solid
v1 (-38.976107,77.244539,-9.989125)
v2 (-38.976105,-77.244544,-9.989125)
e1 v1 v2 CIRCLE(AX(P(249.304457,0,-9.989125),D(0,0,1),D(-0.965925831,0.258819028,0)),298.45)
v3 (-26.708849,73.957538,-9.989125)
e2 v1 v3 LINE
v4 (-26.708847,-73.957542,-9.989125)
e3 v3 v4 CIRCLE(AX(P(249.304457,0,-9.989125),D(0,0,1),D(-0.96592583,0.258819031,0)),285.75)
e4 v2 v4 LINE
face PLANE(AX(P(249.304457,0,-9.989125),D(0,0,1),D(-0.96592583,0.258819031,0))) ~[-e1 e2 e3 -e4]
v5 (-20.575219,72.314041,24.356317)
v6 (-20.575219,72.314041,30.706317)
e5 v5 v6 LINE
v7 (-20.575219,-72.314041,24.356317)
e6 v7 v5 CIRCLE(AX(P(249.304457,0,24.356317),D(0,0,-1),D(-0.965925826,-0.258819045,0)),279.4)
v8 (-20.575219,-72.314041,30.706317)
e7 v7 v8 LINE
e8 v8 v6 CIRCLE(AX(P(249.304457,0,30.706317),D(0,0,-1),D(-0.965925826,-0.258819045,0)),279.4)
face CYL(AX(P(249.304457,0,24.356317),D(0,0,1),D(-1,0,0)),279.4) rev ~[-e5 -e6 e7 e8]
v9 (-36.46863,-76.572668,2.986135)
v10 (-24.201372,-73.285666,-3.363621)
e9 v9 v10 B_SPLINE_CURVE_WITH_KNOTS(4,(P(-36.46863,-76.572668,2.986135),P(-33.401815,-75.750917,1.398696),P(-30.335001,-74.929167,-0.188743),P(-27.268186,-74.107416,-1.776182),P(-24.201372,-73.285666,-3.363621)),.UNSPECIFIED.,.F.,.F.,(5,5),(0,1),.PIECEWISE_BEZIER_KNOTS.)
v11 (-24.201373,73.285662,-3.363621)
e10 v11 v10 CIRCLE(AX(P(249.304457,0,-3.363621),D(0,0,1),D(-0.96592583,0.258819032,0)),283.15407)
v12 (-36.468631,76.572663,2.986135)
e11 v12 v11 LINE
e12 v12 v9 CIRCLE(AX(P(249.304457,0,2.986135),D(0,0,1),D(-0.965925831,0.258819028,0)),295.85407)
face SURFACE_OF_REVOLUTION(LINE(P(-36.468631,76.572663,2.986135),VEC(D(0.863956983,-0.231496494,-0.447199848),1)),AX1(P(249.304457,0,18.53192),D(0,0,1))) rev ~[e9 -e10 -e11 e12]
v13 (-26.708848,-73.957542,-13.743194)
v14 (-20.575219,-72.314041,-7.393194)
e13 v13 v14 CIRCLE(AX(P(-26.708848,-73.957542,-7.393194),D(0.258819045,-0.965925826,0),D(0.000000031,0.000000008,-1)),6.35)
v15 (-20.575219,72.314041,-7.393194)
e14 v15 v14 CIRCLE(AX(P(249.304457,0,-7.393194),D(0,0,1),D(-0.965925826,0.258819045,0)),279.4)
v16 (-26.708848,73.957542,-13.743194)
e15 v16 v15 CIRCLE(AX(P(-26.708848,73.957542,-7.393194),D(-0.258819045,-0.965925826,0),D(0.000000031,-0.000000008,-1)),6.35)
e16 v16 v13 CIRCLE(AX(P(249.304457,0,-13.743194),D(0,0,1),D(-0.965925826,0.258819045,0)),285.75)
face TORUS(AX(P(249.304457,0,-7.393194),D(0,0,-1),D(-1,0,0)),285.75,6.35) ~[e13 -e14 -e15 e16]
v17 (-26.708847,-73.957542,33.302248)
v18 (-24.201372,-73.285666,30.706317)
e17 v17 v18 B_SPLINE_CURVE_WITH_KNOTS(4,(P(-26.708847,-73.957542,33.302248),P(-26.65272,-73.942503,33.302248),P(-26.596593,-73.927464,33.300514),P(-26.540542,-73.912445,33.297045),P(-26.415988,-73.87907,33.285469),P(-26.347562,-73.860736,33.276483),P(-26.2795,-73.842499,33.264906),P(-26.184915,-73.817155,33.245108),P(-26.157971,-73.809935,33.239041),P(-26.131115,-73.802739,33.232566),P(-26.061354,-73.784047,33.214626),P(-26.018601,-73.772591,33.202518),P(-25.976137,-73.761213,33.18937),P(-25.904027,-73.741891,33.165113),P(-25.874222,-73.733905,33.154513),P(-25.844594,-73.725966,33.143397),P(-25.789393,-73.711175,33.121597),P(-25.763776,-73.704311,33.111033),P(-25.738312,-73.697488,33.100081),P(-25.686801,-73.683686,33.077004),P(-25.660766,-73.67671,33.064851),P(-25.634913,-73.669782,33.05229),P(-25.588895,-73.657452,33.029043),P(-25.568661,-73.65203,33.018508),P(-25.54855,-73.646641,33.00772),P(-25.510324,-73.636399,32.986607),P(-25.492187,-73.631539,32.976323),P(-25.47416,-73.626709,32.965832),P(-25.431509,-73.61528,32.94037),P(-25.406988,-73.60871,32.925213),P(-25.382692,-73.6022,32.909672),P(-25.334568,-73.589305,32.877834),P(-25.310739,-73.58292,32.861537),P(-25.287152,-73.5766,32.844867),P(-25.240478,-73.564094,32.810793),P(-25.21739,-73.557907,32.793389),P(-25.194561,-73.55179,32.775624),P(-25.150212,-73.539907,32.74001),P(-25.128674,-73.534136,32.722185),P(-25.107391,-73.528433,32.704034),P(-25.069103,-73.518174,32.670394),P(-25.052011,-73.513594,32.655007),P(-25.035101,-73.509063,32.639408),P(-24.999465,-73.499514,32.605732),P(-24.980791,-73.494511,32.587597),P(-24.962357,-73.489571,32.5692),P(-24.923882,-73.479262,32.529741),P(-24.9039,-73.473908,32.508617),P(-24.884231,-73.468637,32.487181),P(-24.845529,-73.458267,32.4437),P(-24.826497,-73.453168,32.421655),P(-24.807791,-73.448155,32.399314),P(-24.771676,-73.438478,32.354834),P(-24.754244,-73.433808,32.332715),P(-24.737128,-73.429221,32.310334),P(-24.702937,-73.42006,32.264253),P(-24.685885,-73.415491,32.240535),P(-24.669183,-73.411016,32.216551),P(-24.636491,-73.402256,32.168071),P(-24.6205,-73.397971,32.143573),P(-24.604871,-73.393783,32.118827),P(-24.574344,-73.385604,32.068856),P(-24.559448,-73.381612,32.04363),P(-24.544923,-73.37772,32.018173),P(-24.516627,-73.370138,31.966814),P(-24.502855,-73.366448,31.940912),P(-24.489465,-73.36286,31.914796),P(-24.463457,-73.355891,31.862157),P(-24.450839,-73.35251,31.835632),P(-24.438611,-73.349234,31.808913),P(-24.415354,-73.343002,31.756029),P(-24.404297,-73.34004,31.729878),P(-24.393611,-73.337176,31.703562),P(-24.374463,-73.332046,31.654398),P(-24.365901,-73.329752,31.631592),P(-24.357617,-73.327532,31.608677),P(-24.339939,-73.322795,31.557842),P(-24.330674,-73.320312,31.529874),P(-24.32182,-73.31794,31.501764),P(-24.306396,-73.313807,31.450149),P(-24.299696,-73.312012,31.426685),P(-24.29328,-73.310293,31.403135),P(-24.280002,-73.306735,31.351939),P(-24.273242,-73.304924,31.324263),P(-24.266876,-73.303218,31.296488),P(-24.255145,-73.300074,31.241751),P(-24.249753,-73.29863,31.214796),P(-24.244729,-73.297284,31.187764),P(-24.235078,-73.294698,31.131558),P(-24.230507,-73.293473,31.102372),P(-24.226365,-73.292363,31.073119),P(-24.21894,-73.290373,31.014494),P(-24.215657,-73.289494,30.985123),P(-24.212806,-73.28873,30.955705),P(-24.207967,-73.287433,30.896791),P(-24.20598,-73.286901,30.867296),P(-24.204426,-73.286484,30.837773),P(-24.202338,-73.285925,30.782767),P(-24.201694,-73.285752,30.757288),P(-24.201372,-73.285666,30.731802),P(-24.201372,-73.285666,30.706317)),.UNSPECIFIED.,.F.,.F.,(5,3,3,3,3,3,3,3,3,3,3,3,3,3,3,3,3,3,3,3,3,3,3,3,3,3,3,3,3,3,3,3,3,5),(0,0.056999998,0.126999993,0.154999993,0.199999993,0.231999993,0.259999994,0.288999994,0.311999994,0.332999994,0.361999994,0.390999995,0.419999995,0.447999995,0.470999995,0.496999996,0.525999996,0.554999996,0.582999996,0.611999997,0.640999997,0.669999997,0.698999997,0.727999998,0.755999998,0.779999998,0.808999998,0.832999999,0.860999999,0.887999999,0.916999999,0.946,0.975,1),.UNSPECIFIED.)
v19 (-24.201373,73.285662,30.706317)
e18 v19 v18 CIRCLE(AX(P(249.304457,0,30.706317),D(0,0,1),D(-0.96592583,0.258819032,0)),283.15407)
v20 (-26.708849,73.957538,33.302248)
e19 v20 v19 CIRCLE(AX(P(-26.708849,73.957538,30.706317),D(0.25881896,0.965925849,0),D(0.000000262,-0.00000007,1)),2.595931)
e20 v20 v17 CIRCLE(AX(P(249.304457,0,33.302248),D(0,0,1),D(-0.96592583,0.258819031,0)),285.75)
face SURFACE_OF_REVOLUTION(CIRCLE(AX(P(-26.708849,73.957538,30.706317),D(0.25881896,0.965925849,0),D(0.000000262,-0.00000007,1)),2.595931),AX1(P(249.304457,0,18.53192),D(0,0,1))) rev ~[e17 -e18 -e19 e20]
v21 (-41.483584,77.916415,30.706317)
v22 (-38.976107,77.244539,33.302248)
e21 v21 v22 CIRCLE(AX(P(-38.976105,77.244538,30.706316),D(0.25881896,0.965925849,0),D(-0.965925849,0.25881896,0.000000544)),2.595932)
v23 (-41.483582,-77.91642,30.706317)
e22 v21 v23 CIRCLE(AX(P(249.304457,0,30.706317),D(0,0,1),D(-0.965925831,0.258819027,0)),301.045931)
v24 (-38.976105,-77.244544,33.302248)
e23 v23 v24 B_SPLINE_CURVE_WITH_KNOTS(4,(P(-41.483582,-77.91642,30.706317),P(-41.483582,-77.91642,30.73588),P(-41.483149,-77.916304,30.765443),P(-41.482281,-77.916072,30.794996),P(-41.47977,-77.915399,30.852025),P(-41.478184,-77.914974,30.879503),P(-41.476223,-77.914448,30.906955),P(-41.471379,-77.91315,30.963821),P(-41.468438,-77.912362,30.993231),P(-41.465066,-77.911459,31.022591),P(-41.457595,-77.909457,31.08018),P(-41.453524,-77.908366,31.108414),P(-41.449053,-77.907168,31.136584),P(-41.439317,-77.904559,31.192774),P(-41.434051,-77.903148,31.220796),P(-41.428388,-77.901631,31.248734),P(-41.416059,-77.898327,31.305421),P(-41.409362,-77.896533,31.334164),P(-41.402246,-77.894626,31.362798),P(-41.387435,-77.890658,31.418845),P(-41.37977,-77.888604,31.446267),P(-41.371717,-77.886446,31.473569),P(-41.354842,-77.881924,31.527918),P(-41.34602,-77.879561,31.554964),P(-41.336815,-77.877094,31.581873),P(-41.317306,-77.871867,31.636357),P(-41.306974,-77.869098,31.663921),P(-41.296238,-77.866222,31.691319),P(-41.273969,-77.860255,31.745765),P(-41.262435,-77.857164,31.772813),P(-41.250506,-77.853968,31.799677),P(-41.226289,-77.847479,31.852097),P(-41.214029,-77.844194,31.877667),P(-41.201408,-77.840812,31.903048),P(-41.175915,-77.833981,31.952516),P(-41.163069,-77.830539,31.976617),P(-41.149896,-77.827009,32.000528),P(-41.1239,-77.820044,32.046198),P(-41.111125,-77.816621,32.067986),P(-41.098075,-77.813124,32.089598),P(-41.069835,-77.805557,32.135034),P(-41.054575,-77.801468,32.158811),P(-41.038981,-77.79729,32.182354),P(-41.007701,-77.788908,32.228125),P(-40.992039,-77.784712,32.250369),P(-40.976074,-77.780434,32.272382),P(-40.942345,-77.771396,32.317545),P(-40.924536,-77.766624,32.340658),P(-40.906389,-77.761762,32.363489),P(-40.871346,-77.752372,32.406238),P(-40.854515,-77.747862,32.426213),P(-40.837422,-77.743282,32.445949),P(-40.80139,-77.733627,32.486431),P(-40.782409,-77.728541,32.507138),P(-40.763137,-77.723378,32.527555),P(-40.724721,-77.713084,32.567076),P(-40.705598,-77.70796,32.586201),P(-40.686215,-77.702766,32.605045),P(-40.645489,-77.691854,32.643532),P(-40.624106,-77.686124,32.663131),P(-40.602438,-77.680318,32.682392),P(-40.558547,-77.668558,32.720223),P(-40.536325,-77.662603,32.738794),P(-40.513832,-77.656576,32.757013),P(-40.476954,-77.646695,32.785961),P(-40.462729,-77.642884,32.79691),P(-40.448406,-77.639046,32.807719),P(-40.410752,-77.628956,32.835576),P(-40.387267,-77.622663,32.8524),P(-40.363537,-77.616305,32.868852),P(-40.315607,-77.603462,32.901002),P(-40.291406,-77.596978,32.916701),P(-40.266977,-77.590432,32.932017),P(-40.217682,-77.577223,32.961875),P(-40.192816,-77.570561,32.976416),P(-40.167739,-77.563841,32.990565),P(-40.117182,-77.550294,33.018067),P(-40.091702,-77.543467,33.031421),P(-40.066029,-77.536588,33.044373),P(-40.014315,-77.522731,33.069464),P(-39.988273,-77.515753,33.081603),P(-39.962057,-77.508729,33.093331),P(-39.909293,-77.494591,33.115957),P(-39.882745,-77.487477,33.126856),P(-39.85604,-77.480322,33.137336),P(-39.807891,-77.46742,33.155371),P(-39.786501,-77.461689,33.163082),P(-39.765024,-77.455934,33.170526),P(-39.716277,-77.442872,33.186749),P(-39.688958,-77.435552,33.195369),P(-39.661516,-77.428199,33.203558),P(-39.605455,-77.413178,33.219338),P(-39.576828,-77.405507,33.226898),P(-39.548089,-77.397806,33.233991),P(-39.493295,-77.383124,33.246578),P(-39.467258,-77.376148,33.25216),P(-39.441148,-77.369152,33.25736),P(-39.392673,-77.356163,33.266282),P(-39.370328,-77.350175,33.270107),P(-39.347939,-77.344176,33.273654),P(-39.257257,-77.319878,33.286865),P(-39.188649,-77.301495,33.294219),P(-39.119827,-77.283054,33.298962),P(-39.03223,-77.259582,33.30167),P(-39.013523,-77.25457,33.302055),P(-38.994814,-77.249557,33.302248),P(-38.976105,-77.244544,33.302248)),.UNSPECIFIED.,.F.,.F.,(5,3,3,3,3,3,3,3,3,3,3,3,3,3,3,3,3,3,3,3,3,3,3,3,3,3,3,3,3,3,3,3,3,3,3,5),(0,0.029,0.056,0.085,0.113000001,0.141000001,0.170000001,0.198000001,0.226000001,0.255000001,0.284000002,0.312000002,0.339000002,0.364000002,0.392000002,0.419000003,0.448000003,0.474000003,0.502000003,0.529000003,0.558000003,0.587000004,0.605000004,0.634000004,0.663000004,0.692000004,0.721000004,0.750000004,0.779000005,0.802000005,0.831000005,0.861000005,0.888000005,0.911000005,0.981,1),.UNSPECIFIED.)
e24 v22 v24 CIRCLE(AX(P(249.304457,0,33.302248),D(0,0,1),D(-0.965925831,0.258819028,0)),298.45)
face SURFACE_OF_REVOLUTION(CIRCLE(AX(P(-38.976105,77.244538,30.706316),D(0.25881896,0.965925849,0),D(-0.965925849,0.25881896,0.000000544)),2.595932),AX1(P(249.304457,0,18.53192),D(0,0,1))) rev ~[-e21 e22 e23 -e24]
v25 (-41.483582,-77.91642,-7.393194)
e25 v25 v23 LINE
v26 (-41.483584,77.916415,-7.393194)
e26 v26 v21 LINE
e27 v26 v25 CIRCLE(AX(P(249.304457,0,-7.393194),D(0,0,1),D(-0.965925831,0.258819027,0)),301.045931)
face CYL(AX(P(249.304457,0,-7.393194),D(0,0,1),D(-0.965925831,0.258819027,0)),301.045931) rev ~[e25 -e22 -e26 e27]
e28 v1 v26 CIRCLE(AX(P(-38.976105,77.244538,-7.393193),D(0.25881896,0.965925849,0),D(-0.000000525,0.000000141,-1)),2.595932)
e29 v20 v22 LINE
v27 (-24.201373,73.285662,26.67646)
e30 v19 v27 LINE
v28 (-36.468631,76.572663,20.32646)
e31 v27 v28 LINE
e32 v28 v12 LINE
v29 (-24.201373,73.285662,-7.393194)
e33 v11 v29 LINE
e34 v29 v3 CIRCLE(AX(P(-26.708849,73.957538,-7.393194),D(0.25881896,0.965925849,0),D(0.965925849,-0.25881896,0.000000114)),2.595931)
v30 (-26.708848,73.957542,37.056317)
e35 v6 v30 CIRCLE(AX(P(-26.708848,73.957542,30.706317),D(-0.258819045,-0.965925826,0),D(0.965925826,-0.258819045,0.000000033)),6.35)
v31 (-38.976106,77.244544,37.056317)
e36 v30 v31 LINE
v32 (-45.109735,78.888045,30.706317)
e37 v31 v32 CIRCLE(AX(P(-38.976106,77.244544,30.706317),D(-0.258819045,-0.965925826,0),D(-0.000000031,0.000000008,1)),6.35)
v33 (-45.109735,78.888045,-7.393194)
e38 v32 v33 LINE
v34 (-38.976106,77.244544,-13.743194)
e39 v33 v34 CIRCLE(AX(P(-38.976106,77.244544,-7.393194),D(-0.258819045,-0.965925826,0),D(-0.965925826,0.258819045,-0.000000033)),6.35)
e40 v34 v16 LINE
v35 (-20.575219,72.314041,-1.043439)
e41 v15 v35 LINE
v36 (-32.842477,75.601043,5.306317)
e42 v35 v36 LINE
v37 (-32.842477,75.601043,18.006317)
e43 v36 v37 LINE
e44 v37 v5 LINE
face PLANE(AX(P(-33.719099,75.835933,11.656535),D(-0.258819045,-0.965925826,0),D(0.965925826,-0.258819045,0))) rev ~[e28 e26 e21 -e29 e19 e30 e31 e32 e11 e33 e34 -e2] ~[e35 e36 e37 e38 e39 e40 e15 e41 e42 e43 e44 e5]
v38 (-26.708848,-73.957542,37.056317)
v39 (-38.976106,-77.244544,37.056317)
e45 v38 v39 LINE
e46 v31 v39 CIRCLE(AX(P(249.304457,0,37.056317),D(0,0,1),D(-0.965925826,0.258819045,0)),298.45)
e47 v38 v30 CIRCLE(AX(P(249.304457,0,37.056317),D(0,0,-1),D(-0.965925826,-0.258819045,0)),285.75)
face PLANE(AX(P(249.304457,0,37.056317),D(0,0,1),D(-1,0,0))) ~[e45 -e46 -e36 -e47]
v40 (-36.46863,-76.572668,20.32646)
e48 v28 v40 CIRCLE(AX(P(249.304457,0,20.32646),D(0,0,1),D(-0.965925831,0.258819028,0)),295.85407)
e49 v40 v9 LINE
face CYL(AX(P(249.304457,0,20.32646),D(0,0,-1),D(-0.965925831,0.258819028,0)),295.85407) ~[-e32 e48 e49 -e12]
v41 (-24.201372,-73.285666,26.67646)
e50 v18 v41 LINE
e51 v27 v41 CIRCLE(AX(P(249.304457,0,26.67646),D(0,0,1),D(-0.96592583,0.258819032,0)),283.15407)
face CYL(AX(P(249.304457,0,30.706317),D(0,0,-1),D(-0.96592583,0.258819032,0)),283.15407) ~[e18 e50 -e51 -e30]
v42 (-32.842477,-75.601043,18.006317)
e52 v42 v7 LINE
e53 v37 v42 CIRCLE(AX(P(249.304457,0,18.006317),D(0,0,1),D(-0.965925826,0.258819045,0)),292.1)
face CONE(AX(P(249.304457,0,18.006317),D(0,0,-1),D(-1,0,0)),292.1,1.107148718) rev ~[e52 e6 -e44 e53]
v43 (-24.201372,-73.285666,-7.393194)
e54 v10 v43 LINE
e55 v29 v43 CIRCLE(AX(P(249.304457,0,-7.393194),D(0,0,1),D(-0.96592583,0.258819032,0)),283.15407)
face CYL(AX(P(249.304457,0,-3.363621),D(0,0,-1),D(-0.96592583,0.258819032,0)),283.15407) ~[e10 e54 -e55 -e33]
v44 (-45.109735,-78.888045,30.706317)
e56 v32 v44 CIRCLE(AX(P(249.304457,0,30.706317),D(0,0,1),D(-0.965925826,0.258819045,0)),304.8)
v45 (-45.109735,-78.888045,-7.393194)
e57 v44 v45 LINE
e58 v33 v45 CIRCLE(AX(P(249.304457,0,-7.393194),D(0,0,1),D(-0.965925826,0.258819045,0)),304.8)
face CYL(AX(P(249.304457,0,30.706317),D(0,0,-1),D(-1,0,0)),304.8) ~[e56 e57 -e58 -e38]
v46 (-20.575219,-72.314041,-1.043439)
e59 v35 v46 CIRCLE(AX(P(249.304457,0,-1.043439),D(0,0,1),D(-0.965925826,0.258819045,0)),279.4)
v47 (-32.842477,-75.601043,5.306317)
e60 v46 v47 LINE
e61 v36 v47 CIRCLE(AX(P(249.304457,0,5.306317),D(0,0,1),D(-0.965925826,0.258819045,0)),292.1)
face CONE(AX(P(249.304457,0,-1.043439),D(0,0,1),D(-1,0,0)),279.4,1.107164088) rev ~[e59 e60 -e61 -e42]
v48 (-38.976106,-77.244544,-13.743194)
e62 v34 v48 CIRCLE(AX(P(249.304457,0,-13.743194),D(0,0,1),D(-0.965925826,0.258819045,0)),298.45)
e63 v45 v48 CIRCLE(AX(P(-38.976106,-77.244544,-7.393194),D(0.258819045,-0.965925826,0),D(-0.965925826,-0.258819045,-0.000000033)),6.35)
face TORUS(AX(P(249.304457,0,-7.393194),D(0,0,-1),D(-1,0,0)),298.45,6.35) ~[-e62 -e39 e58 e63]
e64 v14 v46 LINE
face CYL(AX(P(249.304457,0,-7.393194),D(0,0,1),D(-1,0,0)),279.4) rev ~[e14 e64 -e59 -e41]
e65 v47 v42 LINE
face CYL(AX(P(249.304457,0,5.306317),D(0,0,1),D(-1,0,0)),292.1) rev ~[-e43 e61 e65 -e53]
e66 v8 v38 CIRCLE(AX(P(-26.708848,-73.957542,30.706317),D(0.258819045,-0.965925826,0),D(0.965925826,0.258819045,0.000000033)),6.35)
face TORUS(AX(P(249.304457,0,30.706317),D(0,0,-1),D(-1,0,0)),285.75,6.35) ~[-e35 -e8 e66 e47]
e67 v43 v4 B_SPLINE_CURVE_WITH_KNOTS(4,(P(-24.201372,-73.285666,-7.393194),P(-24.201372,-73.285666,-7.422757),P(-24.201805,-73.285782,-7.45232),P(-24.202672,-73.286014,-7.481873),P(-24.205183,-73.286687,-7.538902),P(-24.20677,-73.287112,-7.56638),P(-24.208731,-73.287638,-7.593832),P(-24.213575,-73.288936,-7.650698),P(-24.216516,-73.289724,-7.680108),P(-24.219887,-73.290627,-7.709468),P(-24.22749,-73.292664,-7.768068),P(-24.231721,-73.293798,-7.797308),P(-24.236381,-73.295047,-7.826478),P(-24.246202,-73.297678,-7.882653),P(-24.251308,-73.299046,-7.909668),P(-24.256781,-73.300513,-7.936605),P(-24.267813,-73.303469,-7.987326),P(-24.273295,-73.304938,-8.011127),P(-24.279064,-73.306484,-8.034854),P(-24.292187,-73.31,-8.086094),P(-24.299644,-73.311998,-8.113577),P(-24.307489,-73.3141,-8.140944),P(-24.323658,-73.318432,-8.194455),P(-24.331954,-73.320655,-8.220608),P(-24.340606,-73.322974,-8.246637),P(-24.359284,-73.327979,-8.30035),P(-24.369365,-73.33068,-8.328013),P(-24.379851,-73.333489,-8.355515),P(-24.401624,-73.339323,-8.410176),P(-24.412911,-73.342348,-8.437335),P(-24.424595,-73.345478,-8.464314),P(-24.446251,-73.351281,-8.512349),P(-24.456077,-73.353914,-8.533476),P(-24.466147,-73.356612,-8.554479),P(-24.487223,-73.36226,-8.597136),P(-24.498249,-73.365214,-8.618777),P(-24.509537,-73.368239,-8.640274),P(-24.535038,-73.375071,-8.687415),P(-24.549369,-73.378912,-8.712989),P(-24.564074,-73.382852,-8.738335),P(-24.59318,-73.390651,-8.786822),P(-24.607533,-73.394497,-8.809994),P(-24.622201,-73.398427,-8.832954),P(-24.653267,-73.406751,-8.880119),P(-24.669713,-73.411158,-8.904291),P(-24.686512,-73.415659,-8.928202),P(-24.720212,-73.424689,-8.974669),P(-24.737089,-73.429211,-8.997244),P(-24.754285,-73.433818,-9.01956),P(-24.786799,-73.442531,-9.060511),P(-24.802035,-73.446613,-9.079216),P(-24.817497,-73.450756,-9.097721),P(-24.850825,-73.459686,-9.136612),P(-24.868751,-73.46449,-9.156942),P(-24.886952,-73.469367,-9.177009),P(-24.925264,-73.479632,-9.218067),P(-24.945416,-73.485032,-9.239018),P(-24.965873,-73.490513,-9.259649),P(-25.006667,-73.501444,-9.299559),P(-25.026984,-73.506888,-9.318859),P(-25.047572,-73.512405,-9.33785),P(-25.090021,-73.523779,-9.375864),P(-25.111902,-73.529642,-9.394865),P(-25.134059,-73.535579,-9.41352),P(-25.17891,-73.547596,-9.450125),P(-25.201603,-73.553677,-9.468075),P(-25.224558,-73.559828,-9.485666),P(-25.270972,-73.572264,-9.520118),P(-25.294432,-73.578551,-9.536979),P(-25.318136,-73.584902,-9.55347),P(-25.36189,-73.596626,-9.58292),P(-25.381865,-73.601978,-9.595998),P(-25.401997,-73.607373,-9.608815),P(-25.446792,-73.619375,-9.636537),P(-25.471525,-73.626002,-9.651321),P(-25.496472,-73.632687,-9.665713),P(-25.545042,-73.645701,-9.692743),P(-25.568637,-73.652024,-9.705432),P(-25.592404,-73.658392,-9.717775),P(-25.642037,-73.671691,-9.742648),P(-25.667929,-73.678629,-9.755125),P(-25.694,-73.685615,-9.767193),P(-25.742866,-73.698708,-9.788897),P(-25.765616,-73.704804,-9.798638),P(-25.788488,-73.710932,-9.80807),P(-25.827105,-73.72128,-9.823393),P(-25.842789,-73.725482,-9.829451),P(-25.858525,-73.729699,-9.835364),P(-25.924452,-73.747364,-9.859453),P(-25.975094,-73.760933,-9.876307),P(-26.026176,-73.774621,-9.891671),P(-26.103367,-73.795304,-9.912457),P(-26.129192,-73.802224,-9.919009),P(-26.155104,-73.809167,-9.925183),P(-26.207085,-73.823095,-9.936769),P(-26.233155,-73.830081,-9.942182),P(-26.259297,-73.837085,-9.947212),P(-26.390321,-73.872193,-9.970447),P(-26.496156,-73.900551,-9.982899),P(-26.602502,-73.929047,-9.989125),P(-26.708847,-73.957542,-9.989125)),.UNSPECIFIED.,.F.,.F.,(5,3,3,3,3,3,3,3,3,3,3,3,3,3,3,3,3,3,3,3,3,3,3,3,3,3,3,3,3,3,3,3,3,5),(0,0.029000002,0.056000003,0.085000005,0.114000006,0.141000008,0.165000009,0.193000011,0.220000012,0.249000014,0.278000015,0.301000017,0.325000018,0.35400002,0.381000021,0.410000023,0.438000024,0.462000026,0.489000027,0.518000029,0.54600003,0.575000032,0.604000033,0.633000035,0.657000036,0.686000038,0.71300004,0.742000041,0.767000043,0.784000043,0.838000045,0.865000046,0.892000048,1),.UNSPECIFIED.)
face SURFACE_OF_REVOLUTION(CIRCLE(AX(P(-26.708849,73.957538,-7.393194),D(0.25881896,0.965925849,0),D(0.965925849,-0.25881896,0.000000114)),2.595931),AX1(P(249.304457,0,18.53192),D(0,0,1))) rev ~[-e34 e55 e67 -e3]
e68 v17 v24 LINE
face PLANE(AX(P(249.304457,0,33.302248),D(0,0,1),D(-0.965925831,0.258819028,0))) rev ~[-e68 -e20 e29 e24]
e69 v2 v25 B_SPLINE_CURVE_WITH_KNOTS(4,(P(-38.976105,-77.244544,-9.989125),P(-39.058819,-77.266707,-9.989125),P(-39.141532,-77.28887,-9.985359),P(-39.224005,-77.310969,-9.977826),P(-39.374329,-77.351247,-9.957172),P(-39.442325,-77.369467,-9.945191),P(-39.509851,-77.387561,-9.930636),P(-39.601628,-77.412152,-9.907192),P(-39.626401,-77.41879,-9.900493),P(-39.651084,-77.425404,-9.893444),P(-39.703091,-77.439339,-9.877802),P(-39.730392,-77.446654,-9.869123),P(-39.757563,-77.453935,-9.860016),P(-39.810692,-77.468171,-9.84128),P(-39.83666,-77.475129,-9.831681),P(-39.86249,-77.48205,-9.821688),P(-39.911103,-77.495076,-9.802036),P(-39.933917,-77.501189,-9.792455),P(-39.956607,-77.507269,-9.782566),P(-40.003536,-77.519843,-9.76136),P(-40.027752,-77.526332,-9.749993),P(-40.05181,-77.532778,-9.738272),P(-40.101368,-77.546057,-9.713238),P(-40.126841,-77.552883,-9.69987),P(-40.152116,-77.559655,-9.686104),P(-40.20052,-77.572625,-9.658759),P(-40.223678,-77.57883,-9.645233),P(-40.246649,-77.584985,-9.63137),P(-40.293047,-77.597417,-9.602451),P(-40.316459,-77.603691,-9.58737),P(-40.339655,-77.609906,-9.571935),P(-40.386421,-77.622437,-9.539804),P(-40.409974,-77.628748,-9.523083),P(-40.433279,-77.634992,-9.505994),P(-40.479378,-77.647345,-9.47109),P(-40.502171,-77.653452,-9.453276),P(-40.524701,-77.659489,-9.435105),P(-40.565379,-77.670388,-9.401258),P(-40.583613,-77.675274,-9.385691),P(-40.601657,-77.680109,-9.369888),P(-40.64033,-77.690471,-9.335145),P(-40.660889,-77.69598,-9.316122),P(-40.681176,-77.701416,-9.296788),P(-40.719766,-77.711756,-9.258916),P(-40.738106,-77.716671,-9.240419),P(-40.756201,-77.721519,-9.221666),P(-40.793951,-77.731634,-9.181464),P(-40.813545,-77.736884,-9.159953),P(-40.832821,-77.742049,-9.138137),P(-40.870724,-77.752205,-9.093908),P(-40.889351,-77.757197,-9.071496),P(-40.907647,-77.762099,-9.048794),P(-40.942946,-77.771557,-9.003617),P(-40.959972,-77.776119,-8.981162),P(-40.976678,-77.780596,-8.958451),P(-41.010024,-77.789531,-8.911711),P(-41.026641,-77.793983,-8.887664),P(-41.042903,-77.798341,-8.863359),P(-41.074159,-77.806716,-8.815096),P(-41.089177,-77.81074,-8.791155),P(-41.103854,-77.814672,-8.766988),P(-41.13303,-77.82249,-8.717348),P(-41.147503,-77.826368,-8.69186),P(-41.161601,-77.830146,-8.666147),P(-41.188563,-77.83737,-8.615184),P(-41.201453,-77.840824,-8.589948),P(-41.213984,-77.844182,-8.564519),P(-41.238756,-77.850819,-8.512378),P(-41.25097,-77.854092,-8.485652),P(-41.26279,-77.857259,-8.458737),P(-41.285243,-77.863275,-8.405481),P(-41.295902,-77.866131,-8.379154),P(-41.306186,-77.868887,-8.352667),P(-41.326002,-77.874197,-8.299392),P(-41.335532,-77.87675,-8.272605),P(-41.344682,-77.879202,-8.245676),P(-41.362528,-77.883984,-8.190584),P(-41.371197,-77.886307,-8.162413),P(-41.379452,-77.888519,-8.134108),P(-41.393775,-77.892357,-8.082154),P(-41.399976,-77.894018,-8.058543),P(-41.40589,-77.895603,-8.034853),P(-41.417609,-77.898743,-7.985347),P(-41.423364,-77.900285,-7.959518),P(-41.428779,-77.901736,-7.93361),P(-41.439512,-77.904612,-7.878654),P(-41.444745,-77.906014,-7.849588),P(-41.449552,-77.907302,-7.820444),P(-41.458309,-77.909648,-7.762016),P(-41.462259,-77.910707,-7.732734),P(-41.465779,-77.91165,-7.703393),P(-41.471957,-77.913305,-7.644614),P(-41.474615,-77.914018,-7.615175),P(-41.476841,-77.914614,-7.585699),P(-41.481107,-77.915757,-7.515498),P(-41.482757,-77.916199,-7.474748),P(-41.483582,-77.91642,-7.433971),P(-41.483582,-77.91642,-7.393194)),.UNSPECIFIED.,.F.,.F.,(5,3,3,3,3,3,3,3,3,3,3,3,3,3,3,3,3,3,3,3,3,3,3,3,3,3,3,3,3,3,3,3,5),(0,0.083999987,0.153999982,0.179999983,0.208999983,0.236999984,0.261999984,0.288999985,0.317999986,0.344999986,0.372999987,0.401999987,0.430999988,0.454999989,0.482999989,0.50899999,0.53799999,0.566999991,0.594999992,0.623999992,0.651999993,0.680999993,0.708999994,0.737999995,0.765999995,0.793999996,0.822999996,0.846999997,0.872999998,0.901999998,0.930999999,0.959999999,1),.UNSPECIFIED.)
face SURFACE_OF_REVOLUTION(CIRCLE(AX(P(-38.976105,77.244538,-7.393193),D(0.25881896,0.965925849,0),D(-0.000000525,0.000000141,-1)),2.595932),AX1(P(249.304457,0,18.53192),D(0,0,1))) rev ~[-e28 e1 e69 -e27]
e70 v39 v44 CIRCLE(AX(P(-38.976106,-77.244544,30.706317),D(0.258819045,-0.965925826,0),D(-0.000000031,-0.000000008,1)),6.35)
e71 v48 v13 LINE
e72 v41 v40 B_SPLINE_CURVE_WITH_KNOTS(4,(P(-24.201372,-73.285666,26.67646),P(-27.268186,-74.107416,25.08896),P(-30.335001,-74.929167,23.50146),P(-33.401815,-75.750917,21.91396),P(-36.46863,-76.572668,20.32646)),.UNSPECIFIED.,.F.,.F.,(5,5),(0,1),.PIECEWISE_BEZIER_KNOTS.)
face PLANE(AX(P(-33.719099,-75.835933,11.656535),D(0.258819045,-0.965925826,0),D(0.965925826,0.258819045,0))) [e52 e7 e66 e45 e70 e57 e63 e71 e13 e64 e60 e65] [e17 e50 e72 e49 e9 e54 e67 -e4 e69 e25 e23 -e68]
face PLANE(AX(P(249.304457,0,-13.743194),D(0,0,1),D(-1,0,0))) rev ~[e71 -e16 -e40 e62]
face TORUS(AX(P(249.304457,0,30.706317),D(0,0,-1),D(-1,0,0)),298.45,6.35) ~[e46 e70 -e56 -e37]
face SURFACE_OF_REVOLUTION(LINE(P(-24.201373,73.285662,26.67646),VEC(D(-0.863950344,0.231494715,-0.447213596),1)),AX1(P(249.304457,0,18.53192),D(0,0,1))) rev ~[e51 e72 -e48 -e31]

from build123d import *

# Parameters (mm, degrees)
F1_ANGLE = 30
F3_ANGLE = 3


with BuildPart() as f1:
    # F0 (on Front) → F1 (revolve, symmetric)
    with BuildSketch(Plane.XZ) as f1_sk:
        with BuildLine():
            Line((-36.445543, 37.056317), (-49.145543, 37.056317))
            ThreePointArc((-49.145543, 37.056317), (-53.635671, 35.196445), (-55.495543, 30.706317))
            Line((-55.495543, 30.706317), (-55.495543, -7.393194))
            ThreePointArc((-55.495543, -7.393194), (-53.635671, -11.883322), (-49.145543, -13.743194))
            Line((-49.145543, -13.743194), (-36.445543, -13.743194))
            ThreePointArc((-36.445543, -13.743194), (-31.955415, -11.883322), (-30.095543, -7.393194))
            Line((-30.095543, -7.393194), (-30.095543, -1.043439))
            Line((-30.095543, -1.043439), (-42.795543, 5.306317))
            Line((-42.795543, 5.306317), (-42.795543, 18.006317))
            Line((-42.795543, 18.006317), (-30.095543, 24.356317))
            Line((-30.095543, 24.356317), (-30.095543, 30.706317))
            ThreePointArc((-30.095543, 30.706317), (-31.955415, 35.196445), (-36.445543, 37.056317))
        make_face()
    revolve(axis=Axis((249.304457, 0, 5.828281), (0, 0, -1)), revolution_arc=F1_ANGLE / 2)
    revolve(f1_sk.sketch, axis=Axis((249.304457, 0, 5.828281), (0, 0, 1)), revolution_arc=F1_ANGLE / 2)

    # F2 (on face) → F3 (revolve)
    with BuildSketch(Plane(origin=(16.700232, -62.326114, 0), x_dir=(0.965926, 0.258819, 0), z_dir=(0.258819, -0.965926, 0))):
        with BuildLine():
            Line((-42.402958, 26.712616), (-42.402958, 30.706317))
            ThreePointArc((-42.402958, 30.706317), (-43.146153, 32.50055), (-44.940386, 33.243746))
            Line((-44.940386, 33.243746), (-57.640386, 33.243746))
            ThreePointArc((-57.640386, 33.243746), (-59.434619, 32.50055), (-60.177815, 30.706317))
            Line((-60.177815, 30.706317), (-60.177815, -7.393194))
            ThreePointArc((-60.177815, -7.393194), (-59.434619, -9.187427), (-57.640386, -9.930623))
            Line((-57.640386, -9.930623), (-44.940386, -9.930623))
            ThreePointArc((-44.940386, -9.930623), (-43.146153, -9.187427), (-42.402958, -7.393194))
            Line((-42.402958, -7.393194), (-42.402958, -3.399778))
            Line((-42.402958, -3.399778), (-55.102958, 2.949978))
            Line((-55.102958, 2.949978), (-55.102958, 20.362616))
            Line((-55.102958, 20.362616), (-42.402958, 26.712616))
        make_face()
    revolve(axis=Axis((249.304457, 0, 17.638403), (0, 0, 1)), revolution_arc=F3_ANGLE)

    # F4 (on face) → F5 (revolve, cut)
    with BuildSketch(Plane(origin=(16.700232, 62.326114, 0), x_dir=(-0.965926, 0.258819, 0), z_dir=(0.258819, 0.965926, 0))):
        with BuildLine():
            Line((60.236317, -7.393194), (60.236317, 30.706317))
            ThreePointArc((60.236317, 30.706317), (59.475986, 32.541917), (57.640386, 33.302248))
            Line((57.640386, 33.302248), (44.940386, 33.302248))
            ThreePointArc((44.940386, 33.302248), (43.104786, 32.541917), (42.344456, 30.706317))
            Line((42.344456, 30.706317), (42.344456, 26.67646))
            Line((42.344456, 26.67646), (55.044456, 20.32646))
            Line((55.044456, 20.32646), (55.044456, 2.986135))
            Line((55.044456, 2.986135), (42.344456, -3.363621))
            Line((42.344456, -3.363621), (42.344456, -7.393194))
            ThreePointArc((42.344456, -7.393194), (43.104786, -9.228794), (44.940386, -9.989125))
            Line((44.940386, -9.989125), (57.640386, -9.989125))
            ThreePointArc((57.640386, -9.989125), (59.475986, -9.228794), (60.236317, -7.393194))
        make_face()
    revolve(axis=Axis((249.304457, 0, 18.53192), (0, 0, 1)), mode=Mode.SUBTRACT)


solid = f1.part
